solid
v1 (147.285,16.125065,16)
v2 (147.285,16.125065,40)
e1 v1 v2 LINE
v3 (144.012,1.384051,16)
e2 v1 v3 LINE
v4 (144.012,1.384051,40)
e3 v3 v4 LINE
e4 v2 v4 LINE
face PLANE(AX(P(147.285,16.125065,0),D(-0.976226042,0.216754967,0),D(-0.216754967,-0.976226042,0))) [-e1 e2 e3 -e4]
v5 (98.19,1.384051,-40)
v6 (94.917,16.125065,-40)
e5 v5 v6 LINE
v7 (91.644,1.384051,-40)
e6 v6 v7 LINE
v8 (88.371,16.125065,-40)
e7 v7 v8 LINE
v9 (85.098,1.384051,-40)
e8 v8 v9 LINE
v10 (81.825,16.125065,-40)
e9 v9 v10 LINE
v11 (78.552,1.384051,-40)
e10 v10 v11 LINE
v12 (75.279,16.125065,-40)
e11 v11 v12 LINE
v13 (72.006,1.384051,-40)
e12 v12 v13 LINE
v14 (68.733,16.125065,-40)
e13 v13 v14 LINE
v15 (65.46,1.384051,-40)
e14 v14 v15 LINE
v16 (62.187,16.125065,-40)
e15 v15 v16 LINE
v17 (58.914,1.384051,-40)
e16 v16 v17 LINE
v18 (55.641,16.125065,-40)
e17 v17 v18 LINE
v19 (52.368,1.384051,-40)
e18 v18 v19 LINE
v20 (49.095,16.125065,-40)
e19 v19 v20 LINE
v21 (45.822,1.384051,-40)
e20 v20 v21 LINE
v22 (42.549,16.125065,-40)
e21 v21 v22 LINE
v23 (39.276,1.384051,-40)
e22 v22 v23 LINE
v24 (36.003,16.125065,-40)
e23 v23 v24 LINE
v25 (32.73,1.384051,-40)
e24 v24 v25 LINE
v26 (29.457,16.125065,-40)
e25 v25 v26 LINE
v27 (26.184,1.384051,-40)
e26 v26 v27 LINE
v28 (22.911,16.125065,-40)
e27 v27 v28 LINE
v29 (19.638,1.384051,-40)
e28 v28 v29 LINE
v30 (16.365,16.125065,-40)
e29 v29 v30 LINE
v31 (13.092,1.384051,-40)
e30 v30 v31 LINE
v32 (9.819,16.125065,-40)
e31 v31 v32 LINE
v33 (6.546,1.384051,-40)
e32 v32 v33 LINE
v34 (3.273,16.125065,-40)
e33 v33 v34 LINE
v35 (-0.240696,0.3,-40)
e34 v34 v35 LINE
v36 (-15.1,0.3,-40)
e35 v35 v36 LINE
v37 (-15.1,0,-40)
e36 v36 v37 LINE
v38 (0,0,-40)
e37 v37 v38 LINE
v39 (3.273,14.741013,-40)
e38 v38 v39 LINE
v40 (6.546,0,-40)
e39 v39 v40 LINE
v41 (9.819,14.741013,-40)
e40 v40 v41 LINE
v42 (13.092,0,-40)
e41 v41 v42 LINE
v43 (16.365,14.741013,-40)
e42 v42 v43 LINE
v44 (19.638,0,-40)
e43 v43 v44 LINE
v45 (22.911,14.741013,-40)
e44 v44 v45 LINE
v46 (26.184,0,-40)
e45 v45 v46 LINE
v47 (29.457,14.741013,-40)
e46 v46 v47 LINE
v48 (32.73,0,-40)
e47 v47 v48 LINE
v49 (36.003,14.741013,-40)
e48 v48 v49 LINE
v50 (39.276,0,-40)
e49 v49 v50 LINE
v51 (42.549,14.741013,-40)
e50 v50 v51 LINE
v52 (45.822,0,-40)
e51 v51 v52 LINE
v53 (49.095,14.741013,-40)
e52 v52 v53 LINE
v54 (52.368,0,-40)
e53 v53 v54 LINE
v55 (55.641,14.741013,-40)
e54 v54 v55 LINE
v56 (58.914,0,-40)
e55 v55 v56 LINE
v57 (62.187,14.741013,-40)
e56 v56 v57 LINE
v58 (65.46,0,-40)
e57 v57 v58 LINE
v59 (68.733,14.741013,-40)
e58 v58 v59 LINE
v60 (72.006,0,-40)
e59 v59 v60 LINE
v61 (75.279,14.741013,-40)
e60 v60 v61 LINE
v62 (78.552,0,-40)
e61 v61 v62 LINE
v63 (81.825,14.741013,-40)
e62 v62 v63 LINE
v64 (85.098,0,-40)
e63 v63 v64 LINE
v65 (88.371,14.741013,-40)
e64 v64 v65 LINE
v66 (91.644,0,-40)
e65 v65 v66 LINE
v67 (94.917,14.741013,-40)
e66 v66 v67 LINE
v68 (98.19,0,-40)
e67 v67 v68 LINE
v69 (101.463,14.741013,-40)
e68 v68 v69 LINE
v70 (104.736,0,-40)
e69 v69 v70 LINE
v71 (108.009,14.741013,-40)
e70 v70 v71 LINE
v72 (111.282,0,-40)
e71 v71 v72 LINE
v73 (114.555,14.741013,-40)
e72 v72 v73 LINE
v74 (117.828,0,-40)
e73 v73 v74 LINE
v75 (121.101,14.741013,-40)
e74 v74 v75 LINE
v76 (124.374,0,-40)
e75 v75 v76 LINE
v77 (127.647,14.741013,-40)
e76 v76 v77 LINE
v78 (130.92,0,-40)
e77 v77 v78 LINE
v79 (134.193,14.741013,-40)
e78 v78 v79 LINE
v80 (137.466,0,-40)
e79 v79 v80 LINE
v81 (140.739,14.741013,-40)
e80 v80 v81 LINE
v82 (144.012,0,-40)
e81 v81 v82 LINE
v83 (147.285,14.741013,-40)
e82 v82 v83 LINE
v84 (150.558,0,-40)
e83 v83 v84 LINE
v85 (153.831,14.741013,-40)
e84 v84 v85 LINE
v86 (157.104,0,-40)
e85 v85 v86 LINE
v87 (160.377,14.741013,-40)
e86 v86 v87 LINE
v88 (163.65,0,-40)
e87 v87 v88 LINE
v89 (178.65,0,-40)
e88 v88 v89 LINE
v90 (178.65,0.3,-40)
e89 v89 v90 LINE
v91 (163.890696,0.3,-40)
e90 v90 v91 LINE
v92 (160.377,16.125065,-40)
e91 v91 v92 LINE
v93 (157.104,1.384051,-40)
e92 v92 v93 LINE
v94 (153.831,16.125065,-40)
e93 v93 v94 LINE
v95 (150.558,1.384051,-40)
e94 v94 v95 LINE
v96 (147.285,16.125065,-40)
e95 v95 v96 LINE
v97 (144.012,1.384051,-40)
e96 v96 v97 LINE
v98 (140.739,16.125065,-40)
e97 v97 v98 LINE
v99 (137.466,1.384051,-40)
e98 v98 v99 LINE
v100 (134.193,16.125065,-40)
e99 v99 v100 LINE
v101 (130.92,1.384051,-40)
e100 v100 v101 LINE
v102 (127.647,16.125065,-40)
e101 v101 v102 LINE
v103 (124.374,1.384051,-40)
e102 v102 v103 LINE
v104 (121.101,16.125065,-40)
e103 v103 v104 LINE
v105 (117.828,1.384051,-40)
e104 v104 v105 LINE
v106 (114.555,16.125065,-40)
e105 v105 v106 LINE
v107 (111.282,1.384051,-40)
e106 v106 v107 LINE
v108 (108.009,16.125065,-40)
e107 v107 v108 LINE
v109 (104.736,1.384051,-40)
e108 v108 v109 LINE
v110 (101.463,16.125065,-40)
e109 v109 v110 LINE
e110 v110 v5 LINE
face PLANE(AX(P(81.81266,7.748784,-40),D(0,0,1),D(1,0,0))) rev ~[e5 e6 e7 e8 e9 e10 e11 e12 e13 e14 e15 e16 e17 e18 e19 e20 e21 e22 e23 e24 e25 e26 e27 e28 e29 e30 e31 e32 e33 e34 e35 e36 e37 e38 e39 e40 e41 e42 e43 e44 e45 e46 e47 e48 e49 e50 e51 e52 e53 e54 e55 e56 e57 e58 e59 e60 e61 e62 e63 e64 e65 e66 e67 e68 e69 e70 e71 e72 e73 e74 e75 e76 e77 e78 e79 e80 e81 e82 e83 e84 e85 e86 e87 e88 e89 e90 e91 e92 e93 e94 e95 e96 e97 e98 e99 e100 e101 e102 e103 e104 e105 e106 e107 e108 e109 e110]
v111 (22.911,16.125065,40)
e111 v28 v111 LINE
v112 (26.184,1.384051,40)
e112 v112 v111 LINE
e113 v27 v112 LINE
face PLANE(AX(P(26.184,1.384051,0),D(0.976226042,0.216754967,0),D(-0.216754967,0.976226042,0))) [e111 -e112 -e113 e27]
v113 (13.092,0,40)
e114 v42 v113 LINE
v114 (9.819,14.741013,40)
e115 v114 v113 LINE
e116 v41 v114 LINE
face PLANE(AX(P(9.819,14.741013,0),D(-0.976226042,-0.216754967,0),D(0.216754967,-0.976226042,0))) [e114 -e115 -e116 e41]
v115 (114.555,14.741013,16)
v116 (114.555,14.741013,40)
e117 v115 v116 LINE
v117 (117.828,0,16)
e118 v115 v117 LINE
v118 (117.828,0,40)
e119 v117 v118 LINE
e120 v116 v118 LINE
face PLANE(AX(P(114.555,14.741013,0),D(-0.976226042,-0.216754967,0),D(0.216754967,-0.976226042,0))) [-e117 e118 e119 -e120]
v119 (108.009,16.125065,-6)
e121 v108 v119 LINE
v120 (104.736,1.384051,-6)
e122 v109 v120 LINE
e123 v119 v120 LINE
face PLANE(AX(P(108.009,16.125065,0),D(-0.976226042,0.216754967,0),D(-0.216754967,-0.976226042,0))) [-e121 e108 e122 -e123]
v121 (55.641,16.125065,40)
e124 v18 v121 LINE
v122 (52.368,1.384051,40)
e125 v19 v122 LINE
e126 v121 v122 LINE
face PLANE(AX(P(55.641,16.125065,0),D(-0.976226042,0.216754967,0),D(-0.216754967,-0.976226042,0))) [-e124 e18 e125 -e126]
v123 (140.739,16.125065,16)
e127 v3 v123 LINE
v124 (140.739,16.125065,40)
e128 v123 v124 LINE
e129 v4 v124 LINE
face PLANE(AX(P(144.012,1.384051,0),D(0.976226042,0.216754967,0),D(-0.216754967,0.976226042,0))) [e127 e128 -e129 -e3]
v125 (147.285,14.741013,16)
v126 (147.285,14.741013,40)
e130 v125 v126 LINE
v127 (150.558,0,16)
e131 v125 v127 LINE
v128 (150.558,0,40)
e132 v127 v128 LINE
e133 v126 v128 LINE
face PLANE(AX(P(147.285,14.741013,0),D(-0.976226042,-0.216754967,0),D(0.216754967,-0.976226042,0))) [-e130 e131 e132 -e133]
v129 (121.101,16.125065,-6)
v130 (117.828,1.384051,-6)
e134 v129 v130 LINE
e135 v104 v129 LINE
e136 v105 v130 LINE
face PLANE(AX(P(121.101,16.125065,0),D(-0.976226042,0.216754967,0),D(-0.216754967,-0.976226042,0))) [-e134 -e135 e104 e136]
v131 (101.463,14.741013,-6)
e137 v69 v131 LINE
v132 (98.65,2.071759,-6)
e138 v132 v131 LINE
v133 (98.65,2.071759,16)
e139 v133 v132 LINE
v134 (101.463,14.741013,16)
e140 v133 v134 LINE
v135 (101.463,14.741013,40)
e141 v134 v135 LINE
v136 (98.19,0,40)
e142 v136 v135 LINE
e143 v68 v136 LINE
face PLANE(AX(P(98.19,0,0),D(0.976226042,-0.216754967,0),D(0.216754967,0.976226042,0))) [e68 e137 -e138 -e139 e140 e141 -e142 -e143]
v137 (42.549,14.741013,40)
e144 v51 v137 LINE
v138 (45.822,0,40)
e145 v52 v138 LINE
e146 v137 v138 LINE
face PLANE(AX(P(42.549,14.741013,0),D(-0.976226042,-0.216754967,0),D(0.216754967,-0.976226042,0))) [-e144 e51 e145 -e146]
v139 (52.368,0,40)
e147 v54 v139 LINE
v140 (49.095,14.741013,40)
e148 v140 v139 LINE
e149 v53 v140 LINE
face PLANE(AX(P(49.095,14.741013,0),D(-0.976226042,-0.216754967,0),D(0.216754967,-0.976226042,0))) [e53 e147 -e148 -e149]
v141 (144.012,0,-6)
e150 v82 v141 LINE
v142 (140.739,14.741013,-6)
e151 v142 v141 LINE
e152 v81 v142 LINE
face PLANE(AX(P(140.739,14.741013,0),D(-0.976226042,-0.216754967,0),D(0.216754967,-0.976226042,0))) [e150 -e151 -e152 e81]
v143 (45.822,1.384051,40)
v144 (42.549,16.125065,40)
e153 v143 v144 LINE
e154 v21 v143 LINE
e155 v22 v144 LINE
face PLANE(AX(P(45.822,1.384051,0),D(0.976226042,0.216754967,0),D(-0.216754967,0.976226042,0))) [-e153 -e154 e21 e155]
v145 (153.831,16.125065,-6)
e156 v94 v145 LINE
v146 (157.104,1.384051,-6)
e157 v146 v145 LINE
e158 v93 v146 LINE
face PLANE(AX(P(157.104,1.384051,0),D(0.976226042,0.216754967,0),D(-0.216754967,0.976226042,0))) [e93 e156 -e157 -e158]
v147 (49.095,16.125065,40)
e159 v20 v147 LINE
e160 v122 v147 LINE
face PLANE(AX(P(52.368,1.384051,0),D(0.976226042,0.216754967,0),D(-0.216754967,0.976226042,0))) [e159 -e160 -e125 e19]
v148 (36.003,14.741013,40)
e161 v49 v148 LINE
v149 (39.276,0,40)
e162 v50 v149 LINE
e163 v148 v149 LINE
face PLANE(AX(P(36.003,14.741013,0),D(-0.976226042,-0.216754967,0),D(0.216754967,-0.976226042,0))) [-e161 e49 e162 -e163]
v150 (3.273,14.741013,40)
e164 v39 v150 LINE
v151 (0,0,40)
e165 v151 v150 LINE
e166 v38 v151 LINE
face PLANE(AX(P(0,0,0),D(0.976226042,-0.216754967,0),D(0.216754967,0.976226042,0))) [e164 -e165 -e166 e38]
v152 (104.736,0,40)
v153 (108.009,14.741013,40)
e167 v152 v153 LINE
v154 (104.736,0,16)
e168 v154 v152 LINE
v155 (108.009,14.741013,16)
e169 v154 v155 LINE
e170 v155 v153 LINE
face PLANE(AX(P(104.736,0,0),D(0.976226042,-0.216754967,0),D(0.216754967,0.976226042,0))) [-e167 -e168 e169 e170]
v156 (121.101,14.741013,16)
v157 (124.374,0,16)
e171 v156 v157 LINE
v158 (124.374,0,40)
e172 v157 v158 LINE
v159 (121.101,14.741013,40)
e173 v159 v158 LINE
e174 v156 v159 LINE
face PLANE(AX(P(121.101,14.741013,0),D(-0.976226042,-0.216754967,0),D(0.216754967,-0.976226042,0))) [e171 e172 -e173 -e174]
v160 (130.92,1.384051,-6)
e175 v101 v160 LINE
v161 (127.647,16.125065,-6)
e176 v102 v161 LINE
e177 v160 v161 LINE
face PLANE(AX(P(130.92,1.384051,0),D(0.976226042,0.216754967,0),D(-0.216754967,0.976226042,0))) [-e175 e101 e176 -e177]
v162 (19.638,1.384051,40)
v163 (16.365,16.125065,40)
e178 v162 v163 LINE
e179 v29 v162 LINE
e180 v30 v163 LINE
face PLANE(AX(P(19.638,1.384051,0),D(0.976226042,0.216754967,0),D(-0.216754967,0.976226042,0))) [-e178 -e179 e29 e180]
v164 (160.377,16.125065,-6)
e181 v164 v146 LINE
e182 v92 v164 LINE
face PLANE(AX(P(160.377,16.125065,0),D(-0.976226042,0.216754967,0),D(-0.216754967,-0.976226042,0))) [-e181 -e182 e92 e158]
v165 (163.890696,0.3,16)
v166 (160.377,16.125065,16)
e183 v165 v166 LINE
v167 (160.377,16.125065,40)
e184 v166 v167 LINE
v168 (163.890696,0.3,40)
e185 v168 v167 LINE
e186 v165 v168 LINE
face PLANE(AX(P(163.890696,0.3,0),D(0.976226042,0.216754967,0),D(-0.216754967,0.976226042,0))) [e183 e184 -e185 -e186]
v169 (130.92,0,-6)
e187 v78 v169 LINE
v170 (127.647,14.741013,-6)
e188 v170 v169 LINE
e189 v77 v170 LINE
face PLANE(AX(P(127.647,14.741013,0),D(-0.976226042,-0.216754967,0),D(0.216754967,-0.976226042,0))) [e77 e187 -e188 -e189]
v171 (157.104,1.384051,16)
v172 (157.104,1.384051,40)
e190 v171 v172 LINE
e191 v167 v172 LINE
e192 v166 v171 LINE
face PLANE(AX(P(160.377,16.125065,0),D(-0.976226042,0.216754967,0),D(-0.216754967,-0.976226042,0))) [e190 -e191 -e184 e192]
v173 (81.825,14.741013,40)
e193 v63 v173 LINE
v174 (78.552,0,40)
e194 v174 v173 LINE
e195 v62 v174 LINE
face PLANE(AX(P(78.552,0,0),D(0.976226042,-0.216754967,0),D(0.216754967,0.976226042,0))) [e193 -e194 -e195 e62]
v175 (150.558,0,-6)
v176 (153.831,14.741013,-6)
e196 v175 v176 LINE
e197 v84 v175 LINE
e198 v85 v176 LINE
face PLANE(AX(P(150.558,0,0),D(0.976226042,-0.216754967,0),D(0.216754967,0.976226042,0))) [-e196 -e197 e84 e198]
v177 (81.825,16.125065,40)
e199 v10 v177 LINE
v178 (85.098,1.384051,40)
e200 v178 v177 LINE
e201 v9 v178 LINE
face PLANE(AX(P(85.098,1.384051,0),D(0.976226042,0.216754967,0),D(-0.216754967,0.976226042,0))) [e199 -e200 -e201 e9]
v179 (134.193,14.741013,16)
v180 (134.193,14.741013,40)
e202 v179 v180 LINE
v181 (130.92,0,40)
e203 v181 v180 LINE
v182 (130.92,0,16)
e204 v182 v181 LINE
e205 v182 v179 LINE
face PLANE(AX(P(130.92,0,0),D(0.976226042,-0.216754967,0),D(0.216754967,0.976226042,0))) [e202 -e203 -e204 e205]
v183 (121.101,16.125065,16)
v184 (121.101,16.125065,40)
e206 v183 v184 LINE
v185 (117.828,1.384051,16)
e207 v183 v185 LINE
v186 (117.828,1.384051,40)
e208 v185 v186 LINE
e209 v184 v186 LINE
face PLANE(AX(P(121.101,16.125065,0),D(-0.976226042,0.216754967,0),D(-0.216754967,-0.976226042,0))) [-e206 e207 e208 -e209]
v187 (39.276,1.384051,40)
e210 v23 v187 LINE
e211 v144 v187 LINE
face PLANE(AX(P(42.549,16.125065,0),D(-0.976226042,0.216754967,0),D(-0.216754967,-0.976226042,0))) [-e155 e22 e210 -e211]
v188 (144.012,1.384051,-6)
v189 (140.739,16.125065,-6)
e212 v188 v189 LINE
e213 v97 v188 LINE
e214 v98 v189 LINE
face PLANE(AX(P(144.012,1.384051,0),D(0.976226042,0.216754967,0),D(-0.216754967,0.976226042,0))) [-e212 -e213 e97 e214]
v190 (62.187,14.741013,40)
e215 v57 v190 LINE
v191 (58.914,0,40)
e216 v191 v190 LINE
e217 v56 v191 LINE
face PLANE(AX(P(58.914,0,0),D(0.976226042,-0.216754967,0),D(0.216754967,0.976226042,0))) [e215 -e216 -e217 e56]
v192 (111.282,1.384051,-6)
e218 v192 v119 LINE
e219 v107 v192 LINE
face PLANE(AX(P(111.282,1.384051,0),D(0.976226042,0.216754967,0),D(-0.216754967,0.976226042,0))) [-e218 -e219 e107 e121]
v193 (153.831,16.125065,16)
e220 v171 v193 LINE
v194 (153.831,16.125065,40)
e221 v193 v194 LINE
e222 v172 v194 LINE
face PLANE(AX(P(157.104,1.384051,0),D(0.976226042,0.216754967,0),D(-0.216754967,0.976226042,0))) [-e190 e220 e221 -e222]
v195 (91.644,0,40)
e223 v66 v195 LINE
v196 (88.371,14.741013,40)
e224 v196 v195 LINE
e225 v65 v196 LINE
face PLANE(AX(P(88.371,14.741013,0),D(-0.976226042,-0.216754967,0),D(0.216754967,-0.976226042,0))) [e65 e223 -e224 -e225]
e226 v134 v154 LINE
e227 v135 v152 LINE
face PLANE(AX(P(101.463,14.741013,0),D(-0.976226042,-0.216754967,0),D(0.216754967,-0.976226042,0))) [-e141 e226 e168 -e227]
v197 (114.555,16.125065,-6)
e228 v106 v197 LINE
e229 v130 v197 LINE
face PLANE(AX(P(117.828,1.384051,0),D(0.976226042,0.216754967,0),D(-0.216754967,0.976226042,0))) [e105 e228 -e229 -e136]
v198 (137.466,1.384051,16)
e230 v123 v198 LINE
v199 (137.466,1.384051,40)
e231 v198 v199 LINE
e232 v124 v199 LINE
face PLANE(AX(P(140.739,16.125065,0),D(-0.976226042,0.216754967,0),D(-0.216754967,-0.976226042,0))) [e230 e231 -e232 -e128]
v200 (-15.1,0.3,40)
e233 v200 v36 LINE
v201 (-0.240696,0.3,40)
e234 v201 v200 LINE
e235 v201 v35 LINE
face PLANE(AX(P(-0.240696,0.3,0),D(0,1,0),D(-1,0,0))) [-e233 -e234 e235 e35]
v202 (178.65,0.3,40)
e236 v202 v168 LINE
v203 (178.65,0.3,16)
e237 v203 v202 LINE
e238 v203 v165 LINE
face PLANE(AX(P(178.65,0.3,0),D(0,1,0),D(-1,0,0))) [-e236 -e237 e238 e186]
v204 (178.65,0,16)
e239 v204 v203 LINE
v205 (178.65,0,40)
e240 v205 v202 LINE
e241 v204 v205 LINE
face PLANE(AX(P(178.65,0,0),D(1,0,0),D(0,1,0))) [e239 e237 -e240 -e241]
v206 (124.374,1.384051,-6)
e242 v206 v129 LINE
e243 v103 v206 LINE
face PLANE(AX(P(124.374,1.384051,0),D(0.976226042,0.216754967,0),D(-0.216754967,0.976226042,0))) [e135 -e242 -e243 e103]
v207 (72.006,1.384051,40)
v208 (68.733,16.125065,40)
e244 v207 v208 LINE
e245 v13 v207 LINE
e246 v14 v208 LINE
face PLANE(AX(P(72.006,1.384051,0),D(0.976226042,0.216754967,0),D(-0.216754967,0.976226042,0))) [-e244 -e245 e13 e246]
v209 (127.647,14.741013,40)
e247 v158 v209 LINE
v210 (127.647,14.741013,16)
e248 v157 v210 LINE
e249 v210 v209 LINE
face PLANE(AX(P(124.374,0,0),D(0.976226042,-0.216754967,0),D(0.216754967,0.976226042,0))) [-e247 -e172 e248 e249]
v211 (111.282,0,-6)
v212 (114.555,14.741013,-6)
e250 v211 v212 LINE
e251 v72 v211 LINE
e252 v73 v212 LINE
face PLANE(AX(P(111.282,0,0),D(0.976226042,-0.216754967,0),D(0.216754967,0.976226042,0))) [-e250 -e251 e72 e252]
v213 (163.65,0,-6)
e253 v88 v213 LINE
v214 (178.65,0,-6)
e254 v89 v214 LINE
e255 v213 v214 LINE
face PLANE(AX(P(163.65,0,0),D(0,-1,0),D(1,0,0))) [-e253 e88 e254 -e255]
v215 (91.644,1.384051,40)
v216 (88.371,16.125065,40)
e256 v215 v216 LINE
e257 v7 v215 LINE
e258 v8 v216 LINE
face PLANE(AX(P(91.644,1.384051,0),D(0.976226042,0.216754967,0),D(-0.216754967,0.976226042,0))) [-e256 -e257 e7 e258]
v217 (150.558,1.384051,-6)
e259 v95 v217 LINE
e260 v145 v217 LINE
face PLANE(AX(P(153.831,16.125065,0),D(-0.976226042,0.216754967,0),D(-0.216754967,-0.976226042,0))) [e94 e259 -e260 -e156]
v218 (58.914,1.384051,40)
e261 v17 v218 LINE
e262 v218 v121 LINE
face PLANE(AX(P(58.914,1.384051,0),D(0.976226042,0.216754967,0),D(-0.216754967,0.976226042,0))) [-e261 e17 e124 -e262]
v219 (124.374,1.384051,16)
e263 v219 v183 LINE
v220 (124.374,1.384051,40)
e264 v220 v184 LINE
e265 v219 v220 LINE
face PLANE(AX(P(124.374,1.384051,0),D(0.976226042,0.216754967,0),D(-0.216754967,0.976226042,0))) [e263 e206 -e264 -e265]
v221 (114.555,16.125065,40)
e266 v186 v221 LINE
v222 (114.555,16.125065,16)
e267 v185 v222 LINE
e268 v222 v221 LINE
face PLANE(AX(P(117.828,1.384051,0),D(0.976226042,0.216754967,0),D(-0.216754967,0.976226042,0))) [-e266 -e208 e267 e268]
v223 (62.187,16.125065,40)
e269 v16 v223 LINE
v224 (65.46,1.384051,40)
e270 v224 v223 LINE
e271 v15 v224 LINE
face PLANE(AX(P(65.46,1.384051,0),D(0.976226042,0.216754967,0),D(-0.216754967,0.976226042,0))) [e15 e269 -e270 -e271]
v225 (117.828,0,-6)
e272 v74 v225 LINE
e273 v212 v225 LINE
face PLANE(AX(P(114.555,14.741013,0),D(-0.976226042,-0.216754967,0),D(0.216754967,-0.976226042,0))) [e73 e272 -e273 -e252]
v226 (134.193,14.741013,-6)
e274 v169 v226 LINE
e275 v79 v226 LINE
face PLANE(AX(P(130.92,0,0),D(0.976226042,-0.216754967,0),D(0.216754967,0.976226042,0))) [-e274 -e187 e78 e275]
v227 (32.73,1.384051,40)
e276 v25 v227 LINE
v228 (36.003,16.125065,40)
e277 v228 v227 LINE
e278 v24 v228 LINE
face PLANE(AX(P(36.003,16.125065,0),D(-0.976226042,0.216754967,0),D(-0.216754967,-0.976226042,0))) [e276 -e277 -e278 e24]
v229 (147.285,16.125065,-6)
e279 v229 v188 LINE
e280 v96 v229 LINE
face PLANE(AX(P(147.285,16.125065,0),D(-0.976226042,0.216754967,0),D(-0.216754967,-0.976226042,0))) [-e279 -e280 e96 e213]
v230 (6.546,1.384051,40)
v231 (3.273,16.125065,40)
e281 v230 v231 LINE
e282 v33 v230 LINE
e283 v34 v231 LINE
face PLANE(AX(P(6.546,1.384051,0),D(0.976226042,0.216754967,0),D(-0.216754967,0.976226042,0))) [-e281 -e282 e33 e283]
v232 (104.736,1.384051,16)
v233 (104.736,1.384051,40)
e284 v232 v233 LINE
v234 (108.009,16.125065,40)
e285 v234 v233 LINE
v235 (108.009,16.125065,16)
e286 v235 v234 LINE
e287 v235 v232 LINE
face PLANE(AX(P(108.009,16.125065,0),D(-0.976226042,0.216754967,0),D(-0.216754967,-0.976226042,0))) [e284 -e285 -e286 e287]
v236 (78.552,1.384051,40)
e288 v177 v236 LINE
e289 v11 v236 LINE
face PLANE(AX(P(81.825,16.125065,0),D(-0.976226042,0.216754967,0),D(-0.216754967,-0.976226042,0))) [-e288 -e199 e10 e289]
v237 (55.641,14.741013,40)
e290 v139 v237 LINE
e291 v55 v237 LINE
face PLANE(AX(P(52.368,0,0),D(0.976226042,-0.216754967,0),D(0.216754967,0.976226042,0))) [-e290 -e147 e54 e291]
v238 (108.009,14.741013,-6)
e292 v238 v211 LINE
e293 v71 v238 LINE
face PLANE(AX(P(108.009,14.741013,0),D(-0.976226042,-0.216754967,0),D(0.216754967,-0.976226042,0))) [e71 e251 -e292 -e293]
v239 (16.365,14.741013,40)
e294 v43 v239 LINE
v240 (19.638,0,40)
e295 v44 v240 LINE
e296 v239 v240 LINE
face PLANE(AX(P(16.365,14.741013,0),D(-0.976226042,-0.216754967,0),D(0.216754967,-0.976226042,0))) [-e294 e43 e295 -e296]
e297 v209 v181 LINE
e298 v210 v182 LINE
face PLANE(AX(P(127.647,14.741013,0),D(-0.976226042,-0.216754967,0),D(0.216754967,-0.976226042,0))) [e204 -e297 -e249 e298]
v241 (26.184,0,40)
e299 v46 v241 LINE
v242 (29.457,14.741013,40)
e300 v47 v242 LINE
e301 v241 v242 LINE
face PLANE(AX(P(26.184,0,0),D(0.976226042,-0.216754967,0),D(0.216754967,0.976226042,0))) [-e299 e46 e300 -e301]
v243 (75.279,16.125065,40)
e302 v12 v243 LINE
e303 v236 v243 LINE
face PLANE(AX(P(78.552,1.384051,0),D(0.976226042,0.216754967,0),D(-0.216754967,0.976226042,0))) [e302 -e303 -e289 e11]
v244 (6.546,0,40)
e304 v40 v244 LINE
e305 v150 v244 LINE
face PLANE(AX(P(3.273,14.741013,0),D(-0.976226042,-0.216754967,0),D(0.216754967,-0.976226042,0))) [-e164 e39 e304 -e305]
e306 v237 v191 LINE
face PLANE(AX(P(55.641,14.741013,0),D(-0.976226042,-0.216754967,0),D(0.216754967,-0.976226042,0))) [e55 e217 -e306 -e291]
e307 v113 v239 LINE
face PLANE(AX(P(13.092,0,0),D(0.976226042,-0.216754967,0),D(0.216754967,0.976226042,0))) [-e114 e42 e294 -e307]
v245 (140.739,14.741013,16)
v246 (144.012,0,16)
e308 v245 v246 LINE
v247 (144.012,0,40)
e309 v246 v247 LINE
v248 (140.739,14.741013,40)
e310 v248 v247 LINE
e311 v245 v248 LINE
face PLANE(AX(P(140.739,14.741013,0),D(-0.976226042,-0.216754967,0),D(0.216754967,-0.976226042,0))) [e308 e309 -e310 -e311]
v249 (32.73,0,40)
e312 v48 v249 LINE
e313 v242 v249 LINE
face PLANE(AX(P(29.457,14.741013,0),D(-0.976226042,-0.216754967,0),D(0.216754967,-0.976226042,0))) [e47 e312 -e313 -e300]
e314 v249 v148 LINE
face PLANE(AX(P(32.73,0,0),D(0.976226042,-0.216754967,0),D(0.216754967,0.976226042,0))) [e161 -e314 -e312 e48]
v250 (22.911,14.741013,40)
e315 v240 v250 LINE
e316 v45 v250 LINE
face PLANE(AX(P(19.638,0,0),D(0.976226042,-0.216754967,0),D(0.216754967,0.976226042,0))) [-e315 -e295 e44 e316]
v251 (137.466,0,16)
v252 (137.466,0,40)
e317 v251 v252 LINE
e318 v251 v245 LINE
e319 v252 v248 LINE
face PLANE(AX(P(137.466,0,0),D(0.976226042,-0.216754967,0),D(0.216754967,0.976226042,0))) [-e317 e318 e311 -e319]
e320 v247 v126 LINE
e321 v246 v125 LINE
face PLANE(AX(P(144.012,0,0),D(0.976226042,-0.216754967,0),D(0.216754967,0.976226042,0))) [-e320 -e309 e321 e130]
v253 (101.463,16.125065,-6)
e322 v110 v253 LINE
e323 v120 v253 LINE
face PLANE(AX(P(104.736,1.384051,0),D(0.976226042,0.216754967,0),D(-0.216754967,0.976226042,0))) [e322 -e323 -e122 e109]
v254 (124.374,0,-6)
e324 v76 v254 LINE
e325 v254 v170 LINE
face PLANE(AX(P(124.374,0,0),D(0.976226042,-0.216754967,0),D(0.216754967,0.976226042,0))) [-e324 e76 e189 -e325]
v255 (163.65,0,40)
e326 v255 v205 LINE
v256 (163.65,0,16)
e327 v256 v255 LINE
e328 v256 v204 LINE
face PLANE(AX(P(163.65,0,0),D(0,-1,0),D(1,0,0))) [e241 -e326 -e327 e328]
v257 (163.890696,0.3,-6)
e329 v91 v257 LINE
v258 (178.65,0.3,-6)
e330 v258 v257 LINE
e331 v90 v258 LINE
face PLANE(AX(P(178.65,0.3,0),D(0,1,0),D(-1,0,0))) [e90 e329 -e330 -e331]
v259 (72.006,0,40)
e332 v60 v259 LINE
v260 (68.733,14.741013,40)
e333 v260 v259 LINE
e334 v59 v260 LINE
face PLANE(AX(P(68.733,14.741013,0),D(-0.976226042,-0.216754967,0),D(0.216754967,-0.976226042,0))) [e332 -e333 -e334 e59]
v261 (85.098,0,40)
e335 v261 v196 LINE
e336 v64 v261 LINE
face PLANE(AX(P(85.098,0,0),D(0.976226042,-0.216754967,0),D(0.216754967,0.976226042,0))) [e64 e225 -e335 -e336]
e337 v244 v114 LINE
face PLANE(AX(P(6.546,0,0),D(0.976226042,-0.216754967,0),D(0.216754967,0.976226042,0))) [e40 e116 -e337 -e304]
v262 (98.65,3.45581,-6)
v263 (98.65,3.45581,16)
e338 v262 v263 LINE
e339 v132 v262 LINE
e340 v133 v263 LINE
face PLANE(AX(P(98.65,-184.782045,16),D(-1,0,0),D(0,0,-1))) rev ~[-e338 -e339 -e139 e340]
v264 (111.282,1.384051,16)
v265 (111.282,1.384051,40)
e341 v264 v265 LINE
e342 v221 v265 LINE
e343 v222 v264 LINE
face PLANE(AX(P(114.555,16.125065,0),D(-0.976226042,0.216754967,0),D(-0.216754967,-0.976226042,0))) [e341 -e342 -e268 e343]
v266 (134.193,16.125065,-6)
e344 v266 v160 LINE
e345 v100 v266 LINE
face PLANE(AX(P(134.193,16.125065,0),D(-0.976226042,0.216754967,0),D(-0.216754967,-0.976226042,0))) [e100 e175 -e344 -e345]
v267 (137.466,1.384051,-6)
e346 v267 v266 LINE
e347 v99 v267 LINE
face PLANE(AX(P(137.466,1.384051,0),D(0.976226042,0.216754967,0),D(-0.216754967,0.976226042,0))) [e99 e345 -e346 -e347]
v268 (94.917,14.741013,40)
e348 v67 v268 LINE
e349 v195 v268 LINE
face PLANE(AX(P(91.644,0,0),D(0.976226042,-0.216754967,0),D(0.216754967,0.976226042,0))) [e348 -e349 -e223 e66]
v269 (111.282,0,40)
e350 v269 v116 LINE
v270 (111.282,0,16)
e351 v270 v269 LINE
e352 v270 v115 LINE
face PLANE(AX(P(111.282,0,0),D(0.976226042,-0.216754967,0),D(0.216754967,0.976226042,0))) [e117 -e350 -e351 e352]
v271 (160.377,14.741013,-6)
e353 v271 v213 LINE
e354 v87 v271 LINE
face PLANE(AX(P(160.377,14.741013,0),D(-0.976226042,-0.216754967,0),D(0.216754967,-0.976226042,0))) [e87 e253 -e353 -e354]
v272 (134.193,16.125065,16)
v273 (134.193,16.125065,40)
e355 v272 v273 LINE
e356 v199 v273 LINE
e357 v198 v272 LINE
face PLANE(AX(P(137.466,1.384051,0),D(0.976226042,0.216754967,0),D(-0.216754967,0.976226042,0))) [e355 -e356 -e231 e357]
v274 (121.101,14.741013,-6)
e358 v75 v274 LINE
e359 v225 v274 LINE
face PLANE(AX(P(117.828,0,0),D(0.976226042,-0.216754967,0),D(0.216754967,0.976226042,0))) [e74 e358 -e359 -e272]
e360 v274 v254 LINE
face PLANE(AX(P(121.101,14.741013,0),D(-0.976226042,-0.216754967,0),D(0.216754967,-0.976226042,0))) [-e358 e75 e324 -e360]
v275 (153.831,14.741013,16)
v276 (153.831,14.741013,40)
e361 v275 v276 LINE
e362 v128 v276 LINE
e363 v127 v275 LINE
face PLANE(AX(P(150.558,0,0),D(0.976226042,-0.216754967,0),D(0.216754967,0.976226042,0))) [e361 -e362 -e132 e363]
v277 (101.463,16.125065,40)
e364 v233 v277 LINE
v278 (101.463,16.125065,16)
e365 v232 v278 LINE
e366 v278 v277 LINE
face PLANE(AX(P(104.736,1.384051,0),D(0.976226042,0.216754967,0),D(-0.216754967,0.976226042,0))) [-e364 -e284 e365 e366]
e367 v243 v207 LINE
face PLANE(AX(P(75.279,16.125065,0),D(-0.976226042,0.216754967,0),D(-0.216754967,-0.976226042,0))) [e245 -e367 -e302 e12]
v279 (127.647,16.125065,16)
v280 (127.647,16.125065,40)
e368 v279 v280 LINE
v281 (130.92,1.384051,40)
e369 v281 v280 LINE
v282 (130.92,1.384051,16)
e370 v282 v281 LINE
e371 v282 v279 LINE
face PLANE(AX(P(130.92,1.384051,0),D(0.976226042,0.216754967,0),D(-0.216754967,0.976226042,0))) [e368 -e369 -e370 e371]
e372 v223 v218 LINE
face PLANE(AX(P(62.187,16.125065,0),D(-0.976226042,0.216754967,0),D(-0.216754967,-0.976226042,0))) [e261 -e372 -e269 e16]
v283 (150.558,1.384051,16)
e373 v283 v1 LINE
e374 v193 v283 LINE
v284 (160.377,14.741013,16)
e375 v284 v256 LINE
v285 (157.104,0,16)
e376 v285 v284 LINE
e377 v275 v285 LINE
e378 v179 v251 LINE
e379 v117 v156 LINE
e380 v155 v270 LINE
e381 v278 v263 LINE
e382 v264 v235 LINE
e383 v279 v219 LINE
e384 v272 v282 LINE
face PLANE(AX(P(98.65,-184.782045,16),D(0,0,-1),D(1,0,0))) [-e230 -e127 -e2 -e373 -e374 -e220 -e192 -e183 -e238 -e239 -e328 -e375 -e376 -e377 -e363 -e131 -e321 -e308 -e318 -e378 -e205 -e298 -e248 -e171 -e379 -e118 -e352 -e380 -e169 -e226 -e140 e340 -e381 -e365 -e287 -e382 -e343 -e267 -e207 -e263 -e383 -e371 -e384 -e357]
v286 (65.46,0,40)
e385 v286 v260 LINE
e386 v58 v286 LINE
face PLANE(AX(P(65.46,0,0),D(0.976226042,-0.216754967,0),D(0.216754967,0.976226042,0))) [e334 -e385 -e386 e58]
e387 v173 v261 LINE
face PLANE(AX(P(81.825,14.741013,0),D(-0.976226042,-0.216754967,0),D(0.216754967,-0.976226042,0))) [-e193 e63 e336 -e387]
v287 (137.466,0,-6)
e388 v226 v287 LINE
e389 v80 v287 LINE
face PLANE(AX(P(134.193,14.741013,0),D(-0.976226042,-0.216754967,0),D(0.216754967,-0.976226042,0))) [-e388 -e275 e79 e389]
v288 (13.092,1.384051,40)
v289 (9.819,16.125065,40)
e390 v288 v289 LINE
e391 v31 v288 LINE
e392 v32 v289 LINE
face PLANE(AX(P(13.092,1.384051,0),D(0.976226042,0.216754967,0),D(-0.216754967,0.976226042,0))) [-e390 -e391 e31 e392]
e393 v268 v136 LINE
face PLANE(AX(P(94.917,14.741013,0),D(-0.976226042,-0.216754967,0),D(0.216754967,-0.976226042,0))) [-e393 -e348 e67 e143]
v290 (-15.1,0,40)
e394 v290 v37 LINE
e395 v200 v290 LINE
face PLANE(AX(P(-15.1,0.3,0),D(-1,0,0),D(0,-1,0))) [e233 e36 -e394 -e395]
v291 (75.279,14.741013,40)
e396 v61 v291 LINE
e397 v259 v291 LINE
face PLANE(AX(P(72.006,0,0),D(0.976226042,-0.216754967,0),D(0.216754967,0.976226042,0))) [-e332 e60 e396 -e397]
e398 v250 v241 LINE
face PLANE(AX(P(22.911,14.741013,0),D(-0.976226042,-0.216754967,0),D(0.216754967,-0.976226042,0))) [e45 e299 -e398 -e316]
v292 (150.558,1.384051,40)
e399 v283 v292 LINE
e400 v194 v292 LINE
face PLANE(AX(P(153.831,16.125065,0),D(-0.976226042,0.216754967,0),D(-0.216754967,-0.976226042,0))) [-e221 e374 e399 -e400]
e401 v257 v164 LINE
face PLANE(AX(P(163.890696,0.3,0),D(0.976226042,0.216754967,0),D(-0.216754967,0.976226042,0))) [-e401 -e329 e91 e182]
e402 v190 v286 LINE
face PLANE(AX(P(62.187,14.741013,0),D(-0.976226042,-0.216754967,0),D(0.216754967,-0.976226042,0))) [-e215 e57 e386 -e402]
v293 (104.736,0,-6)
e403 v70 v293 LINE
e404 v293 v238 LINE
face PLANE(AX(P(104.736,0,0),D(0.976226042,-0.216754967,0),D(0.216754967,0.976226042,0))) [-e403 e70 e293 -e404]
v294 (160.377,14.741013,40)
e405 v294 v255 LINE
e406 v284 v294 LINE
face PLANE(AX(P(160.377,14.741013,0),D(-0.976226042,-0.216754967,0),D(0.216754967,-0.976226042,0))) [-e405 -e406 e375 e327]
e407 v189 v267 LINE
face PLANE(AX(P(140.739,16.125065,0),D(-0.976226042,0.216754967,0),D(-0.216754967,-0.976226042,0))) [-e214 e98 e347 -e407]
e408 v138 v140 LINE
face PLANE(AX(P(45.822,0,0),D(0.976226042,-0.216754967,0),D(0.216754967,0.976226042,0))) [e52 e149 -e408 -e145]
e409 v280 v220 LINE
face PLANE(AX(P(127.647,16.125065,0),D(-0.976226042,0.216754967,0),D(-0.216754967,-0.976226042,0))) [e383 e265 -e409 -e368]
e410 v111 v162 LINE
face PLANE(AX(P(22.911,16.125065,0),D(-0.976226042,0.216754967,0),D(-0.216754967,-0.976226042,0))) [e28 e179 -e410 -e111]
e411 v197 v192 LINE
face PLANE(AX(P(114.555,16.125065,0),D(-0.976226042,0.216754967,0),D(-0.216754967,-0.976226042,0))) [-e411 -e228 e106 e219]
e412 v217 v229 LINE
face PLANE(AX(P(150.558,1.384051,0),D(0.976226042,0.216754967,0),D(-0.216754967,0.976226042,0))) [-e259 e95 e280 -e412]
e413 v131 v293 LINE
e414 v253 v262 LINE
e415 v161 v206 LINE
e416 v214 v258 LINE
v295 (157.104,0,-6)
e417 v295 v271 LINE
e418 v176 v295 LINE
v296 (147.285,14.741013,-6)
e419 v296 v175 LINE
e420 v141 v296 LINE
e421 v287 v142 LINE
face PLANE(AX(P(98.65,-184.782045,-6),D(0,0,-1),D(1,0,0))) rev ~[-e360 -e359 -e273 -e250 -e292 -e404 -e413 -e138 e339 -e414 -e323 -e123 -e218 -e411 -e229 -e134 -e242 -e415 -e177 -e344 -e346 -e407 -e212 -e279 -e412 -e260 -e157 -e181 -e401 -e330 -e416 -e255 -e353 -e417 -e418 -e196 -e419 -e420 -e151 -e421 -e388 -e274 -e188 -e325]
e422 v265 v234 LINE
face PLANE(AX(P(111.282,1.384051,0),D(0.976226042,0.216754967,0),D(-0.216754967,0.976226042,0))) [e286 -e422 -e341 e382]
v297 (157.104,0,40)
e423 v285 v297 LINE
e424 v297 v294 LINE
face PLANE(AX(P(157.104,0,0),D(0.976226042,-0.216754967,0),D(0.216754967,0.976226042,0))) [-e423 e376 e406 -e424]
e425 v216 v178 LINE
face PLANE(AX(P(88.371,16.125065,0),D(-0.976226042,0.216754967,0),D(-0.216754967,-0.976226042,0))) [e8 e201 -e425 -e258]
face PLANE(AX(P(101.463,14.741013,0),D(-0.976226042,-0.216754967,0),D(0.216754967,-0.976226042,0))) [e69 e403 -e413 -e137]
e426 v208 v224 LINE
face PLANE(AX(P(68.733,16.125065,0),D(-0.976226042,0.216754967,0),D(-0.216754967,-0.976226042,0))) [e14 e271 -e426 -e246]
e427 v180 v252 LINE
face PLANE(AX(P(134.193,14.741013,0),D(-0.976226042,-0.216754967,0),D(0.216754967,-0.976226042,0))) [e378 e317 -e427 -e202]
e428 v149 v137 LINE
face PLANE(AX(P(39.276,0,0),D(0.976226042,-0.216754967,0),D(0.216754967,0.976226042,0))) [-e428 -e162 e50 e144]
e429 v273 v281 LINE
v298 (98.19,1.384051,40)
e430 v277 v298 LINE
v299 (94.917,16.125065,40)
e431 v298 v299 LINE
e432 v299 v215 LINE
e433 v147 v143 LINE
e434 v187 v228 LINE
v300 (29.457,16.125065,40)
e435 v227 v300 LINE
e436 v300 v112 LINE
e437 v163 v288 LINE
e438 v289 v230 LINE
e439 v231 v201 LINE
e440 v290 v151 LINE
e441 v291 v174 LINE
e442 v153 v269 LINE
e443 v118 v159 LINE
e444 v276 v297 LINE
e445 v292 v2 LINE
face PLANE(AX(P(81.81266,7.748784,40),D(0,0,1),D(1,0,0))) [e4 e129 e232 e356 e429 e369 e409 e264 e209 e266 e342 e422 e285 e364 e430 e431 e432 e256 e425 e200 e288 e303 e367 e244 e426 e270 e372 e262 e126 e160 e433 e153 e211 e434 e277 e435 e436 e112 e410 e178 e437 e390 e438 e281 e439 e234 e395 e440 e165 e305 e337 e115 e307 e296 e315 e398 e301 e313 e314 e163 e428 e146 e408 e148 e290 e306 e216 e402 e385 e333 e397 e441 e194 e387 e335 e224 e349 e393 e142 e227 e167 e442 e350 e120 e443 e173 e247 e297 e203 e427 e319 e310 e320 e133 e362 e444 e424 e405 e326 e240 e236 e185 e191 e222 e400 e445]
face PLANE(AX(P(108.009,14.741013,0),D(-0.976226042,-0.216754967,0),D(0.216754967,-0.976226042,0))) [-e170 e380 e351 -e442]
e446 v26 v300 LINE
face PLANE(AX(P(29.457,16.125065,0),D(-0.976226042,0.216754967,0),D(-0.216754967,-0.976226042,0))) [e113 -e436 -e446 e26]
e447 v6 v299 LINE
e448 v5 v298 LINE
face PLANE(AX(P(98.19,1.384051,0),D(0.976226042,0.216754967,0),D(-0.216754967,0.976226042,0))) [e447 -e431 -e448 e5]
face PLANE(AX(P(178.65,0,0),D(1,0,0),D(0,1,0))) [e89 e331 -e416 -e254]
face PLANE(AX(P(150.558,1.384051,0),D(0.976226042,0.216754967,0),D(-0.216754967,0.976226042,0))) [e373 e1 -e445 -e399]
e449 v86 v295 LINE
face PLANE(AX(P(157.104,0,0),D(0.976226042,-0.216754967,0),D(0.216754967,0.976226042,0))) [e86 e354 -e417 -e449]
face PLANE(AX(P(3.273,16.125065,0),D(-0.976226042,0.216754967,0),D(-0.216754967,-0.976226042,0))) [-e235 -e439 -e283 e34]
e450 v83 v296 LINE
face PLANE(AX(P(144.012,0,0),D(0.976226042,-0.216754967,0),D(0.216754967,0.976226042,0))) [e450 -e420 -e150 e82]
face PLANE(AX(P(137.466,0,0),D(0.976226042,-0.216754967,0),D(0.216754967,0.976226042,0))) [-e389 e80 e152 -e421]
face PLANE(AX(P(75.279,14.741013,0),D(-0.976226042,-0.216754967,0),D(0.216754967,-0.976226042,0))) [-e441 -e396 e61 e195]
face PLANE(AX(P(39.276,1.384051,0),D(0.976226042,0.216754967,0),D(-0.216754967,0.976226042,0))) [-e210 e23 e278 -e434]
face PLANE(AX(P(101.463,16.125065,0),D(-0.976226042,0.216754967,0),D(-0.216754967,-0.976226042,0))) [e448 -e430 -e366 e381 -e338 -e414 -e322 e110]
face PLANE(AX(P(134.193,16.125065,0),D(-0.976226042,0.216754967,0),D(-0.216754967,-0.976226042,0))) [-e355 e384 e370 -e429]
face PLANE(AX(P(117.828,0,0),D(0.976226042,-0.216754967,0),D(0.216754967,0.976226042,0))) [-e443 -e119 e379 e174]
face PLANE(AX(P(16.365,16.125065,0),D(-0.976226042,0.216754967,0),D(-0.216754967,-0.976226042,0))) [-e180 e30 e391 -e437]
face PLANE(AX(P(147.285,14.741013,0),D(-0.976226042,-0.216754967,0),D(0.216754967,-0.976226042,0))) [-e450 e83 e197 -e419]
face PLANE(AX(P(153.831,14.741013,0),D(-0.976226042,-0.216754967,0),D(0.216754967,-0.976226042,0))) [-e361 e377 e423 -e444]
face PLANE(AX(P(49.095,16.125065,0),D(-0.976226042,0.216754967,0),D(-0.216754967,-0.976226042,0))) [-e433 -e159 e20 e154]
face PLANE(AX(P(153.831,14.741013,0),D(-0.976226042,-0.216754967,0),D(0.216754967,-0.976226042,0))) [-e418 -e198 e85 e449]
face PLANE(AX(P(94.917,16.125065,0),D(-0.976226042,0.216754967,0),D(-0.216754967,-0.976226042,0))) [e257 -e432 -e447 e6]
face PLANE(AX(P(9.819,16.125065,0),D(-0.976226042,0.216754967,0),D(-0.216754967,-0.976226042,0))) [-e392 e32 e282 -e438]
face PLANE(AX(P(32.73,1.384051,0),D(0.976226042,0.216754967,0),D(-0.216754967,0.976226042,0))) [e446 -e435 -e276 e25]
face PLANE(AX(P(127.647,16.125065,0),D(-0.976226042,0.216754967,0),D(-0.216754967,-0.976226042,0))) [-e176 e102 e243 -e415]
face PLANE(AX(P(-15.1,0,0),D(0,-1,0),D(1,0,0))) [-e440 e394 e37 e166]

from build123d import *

# Parameters (mm, degrees)
EXTRUDE_THIN1_DEPTH     = 40
CUT_EXTRUDE4_DEPTH      = 184.782045388
CUT_EXTRUDE4_DEPTH_BACK = 184.782045388
SKETCH2_W               = 80
SKETCH2_H               = 22


with BuildPart() as part:
    # Sketch1 → Extrude-Thin1 (new, symmetric)
    with BuildSketch(Plane.XY):
        Polygon((-15.1, 0), (0, 0), (3.273, 14.741013228), (6.546, 0), (9.819, 14.741013228), (13.092, 0), (16.365, 14.741013228), (19.638, 0), (22.911, 14.741013228), (26.184, 0), (29.457, 14.741013228), (32.73, 0), (36.003, 14.741013228), (39.276, 0), (42.549, 14.741013228), (45.822, 0), (49.095, 14.741013228), (52.368, 0), (55.641, 14.741013228), (58.914, 0), (62.187, 14.741013228), (65.46, 0), (68.733, 14.741013228), (72.006, 0), (75.279, 14.741013228), (78.552, 0), (81.825, 14.741013228), (85.098, 0), (88.371, 14.741013228), (91.644, 0), (94.917, 14.741013228), (98.19, 0), (101.463, 14.741013228), (104.736, 0), (108.009, 14.741013228), (111.282, 0), (114.555, 14.741013228), (117.828, 0), (121.101, 14.741013228), (124.374, 0), (127.647, 14.741013228), (130.92, 0), (134.193, 14.741013228), (137.466, 0), (140.739, 14.741013228), (144.012, 0), (147.285, 14.741013228), (150.558, 0), (153.831, 14.741013228), (157.104, 0), (160.377, 14.741013228), (163.65, 0), (178.65, 0), (178.65, 0.3), (163.890695802, 0.3), (160.377, 16.125064557), (157.104, 1.384051329), (153.831, 16.125064557), (150.558, 1.384051329), (147.285, 16.125064557), (144.012, 1.384051329), (140.739, 16.125064557), (137.466, 1.384051329), (134.193, 16.125064557), (130.92, 1.384051329), (127.647, 16.125064557), (124.374, 1.384051329), (121.101, 16.125064557), (117.828, 1.384051329), (114.555, 16.125064557), (111.282, 1.384051329), (108.009, 16.125064557), (104.736, 1.384051329), (101.463, 16.125064557), (98.19, 1.384051329), (94.917, 16.125064557), (91.644, 1.384051329), (88.371, 16.125064557), (85.098, 1.384051329), (81.825, 16.125064557), (78.552, 1.384051329), (75.279, 16.125064557), (72.006, 1.384051329), (68.733, 16.125064557), (65.46, 1.384051329), (62.187, 16.125064557), (58.914, 1.384051329), (55.641, 16.125064557), (52.368, 1.384051329), (49.095, 16.125064557), (45.822, 1.384051329), (42.549, 16.125064557), (39.276, 1.384051329), (36.003, 16.125064557), (32.73, 1.384051329), (29.457, 16.125064557), (26.184, 1.384051329), (22.911, 16.125064557), (19.638, 1.384051329), (16.365, 16.125064557), (13.092, 1.384051329), (9.819, 16.125064557), (6.546, 1.384051329), (3.273, 16.125064557), (-0.240695802, 0.3), (-15.1, 0.3), align=None)
    extrude(amount=EXTRUDE_THIN1_DEPTH, both=True)

    # Sketch2 → Cut-Extrude4 (cut, two sides: drawn at the far end of the back side and taken through both)
    with BuildSketch(Plane(origin=(0, 0, 0), x_dir=(1, 0, 0), z_dir=(0, 1, 0)).offset(-CUT_EXTRUDE4_DEPTH_BACK)):
        with Locations((138.65, -5)):
            Rectangle(SKETCH2_W, SKETCH2_H)
    extrude(amount=CUT_EXTRUDE4_DEPTH + CUT_EXTRUDE4_DEPTH_BACK, mode=Mode.SUBTRACT)


solid = part.part
